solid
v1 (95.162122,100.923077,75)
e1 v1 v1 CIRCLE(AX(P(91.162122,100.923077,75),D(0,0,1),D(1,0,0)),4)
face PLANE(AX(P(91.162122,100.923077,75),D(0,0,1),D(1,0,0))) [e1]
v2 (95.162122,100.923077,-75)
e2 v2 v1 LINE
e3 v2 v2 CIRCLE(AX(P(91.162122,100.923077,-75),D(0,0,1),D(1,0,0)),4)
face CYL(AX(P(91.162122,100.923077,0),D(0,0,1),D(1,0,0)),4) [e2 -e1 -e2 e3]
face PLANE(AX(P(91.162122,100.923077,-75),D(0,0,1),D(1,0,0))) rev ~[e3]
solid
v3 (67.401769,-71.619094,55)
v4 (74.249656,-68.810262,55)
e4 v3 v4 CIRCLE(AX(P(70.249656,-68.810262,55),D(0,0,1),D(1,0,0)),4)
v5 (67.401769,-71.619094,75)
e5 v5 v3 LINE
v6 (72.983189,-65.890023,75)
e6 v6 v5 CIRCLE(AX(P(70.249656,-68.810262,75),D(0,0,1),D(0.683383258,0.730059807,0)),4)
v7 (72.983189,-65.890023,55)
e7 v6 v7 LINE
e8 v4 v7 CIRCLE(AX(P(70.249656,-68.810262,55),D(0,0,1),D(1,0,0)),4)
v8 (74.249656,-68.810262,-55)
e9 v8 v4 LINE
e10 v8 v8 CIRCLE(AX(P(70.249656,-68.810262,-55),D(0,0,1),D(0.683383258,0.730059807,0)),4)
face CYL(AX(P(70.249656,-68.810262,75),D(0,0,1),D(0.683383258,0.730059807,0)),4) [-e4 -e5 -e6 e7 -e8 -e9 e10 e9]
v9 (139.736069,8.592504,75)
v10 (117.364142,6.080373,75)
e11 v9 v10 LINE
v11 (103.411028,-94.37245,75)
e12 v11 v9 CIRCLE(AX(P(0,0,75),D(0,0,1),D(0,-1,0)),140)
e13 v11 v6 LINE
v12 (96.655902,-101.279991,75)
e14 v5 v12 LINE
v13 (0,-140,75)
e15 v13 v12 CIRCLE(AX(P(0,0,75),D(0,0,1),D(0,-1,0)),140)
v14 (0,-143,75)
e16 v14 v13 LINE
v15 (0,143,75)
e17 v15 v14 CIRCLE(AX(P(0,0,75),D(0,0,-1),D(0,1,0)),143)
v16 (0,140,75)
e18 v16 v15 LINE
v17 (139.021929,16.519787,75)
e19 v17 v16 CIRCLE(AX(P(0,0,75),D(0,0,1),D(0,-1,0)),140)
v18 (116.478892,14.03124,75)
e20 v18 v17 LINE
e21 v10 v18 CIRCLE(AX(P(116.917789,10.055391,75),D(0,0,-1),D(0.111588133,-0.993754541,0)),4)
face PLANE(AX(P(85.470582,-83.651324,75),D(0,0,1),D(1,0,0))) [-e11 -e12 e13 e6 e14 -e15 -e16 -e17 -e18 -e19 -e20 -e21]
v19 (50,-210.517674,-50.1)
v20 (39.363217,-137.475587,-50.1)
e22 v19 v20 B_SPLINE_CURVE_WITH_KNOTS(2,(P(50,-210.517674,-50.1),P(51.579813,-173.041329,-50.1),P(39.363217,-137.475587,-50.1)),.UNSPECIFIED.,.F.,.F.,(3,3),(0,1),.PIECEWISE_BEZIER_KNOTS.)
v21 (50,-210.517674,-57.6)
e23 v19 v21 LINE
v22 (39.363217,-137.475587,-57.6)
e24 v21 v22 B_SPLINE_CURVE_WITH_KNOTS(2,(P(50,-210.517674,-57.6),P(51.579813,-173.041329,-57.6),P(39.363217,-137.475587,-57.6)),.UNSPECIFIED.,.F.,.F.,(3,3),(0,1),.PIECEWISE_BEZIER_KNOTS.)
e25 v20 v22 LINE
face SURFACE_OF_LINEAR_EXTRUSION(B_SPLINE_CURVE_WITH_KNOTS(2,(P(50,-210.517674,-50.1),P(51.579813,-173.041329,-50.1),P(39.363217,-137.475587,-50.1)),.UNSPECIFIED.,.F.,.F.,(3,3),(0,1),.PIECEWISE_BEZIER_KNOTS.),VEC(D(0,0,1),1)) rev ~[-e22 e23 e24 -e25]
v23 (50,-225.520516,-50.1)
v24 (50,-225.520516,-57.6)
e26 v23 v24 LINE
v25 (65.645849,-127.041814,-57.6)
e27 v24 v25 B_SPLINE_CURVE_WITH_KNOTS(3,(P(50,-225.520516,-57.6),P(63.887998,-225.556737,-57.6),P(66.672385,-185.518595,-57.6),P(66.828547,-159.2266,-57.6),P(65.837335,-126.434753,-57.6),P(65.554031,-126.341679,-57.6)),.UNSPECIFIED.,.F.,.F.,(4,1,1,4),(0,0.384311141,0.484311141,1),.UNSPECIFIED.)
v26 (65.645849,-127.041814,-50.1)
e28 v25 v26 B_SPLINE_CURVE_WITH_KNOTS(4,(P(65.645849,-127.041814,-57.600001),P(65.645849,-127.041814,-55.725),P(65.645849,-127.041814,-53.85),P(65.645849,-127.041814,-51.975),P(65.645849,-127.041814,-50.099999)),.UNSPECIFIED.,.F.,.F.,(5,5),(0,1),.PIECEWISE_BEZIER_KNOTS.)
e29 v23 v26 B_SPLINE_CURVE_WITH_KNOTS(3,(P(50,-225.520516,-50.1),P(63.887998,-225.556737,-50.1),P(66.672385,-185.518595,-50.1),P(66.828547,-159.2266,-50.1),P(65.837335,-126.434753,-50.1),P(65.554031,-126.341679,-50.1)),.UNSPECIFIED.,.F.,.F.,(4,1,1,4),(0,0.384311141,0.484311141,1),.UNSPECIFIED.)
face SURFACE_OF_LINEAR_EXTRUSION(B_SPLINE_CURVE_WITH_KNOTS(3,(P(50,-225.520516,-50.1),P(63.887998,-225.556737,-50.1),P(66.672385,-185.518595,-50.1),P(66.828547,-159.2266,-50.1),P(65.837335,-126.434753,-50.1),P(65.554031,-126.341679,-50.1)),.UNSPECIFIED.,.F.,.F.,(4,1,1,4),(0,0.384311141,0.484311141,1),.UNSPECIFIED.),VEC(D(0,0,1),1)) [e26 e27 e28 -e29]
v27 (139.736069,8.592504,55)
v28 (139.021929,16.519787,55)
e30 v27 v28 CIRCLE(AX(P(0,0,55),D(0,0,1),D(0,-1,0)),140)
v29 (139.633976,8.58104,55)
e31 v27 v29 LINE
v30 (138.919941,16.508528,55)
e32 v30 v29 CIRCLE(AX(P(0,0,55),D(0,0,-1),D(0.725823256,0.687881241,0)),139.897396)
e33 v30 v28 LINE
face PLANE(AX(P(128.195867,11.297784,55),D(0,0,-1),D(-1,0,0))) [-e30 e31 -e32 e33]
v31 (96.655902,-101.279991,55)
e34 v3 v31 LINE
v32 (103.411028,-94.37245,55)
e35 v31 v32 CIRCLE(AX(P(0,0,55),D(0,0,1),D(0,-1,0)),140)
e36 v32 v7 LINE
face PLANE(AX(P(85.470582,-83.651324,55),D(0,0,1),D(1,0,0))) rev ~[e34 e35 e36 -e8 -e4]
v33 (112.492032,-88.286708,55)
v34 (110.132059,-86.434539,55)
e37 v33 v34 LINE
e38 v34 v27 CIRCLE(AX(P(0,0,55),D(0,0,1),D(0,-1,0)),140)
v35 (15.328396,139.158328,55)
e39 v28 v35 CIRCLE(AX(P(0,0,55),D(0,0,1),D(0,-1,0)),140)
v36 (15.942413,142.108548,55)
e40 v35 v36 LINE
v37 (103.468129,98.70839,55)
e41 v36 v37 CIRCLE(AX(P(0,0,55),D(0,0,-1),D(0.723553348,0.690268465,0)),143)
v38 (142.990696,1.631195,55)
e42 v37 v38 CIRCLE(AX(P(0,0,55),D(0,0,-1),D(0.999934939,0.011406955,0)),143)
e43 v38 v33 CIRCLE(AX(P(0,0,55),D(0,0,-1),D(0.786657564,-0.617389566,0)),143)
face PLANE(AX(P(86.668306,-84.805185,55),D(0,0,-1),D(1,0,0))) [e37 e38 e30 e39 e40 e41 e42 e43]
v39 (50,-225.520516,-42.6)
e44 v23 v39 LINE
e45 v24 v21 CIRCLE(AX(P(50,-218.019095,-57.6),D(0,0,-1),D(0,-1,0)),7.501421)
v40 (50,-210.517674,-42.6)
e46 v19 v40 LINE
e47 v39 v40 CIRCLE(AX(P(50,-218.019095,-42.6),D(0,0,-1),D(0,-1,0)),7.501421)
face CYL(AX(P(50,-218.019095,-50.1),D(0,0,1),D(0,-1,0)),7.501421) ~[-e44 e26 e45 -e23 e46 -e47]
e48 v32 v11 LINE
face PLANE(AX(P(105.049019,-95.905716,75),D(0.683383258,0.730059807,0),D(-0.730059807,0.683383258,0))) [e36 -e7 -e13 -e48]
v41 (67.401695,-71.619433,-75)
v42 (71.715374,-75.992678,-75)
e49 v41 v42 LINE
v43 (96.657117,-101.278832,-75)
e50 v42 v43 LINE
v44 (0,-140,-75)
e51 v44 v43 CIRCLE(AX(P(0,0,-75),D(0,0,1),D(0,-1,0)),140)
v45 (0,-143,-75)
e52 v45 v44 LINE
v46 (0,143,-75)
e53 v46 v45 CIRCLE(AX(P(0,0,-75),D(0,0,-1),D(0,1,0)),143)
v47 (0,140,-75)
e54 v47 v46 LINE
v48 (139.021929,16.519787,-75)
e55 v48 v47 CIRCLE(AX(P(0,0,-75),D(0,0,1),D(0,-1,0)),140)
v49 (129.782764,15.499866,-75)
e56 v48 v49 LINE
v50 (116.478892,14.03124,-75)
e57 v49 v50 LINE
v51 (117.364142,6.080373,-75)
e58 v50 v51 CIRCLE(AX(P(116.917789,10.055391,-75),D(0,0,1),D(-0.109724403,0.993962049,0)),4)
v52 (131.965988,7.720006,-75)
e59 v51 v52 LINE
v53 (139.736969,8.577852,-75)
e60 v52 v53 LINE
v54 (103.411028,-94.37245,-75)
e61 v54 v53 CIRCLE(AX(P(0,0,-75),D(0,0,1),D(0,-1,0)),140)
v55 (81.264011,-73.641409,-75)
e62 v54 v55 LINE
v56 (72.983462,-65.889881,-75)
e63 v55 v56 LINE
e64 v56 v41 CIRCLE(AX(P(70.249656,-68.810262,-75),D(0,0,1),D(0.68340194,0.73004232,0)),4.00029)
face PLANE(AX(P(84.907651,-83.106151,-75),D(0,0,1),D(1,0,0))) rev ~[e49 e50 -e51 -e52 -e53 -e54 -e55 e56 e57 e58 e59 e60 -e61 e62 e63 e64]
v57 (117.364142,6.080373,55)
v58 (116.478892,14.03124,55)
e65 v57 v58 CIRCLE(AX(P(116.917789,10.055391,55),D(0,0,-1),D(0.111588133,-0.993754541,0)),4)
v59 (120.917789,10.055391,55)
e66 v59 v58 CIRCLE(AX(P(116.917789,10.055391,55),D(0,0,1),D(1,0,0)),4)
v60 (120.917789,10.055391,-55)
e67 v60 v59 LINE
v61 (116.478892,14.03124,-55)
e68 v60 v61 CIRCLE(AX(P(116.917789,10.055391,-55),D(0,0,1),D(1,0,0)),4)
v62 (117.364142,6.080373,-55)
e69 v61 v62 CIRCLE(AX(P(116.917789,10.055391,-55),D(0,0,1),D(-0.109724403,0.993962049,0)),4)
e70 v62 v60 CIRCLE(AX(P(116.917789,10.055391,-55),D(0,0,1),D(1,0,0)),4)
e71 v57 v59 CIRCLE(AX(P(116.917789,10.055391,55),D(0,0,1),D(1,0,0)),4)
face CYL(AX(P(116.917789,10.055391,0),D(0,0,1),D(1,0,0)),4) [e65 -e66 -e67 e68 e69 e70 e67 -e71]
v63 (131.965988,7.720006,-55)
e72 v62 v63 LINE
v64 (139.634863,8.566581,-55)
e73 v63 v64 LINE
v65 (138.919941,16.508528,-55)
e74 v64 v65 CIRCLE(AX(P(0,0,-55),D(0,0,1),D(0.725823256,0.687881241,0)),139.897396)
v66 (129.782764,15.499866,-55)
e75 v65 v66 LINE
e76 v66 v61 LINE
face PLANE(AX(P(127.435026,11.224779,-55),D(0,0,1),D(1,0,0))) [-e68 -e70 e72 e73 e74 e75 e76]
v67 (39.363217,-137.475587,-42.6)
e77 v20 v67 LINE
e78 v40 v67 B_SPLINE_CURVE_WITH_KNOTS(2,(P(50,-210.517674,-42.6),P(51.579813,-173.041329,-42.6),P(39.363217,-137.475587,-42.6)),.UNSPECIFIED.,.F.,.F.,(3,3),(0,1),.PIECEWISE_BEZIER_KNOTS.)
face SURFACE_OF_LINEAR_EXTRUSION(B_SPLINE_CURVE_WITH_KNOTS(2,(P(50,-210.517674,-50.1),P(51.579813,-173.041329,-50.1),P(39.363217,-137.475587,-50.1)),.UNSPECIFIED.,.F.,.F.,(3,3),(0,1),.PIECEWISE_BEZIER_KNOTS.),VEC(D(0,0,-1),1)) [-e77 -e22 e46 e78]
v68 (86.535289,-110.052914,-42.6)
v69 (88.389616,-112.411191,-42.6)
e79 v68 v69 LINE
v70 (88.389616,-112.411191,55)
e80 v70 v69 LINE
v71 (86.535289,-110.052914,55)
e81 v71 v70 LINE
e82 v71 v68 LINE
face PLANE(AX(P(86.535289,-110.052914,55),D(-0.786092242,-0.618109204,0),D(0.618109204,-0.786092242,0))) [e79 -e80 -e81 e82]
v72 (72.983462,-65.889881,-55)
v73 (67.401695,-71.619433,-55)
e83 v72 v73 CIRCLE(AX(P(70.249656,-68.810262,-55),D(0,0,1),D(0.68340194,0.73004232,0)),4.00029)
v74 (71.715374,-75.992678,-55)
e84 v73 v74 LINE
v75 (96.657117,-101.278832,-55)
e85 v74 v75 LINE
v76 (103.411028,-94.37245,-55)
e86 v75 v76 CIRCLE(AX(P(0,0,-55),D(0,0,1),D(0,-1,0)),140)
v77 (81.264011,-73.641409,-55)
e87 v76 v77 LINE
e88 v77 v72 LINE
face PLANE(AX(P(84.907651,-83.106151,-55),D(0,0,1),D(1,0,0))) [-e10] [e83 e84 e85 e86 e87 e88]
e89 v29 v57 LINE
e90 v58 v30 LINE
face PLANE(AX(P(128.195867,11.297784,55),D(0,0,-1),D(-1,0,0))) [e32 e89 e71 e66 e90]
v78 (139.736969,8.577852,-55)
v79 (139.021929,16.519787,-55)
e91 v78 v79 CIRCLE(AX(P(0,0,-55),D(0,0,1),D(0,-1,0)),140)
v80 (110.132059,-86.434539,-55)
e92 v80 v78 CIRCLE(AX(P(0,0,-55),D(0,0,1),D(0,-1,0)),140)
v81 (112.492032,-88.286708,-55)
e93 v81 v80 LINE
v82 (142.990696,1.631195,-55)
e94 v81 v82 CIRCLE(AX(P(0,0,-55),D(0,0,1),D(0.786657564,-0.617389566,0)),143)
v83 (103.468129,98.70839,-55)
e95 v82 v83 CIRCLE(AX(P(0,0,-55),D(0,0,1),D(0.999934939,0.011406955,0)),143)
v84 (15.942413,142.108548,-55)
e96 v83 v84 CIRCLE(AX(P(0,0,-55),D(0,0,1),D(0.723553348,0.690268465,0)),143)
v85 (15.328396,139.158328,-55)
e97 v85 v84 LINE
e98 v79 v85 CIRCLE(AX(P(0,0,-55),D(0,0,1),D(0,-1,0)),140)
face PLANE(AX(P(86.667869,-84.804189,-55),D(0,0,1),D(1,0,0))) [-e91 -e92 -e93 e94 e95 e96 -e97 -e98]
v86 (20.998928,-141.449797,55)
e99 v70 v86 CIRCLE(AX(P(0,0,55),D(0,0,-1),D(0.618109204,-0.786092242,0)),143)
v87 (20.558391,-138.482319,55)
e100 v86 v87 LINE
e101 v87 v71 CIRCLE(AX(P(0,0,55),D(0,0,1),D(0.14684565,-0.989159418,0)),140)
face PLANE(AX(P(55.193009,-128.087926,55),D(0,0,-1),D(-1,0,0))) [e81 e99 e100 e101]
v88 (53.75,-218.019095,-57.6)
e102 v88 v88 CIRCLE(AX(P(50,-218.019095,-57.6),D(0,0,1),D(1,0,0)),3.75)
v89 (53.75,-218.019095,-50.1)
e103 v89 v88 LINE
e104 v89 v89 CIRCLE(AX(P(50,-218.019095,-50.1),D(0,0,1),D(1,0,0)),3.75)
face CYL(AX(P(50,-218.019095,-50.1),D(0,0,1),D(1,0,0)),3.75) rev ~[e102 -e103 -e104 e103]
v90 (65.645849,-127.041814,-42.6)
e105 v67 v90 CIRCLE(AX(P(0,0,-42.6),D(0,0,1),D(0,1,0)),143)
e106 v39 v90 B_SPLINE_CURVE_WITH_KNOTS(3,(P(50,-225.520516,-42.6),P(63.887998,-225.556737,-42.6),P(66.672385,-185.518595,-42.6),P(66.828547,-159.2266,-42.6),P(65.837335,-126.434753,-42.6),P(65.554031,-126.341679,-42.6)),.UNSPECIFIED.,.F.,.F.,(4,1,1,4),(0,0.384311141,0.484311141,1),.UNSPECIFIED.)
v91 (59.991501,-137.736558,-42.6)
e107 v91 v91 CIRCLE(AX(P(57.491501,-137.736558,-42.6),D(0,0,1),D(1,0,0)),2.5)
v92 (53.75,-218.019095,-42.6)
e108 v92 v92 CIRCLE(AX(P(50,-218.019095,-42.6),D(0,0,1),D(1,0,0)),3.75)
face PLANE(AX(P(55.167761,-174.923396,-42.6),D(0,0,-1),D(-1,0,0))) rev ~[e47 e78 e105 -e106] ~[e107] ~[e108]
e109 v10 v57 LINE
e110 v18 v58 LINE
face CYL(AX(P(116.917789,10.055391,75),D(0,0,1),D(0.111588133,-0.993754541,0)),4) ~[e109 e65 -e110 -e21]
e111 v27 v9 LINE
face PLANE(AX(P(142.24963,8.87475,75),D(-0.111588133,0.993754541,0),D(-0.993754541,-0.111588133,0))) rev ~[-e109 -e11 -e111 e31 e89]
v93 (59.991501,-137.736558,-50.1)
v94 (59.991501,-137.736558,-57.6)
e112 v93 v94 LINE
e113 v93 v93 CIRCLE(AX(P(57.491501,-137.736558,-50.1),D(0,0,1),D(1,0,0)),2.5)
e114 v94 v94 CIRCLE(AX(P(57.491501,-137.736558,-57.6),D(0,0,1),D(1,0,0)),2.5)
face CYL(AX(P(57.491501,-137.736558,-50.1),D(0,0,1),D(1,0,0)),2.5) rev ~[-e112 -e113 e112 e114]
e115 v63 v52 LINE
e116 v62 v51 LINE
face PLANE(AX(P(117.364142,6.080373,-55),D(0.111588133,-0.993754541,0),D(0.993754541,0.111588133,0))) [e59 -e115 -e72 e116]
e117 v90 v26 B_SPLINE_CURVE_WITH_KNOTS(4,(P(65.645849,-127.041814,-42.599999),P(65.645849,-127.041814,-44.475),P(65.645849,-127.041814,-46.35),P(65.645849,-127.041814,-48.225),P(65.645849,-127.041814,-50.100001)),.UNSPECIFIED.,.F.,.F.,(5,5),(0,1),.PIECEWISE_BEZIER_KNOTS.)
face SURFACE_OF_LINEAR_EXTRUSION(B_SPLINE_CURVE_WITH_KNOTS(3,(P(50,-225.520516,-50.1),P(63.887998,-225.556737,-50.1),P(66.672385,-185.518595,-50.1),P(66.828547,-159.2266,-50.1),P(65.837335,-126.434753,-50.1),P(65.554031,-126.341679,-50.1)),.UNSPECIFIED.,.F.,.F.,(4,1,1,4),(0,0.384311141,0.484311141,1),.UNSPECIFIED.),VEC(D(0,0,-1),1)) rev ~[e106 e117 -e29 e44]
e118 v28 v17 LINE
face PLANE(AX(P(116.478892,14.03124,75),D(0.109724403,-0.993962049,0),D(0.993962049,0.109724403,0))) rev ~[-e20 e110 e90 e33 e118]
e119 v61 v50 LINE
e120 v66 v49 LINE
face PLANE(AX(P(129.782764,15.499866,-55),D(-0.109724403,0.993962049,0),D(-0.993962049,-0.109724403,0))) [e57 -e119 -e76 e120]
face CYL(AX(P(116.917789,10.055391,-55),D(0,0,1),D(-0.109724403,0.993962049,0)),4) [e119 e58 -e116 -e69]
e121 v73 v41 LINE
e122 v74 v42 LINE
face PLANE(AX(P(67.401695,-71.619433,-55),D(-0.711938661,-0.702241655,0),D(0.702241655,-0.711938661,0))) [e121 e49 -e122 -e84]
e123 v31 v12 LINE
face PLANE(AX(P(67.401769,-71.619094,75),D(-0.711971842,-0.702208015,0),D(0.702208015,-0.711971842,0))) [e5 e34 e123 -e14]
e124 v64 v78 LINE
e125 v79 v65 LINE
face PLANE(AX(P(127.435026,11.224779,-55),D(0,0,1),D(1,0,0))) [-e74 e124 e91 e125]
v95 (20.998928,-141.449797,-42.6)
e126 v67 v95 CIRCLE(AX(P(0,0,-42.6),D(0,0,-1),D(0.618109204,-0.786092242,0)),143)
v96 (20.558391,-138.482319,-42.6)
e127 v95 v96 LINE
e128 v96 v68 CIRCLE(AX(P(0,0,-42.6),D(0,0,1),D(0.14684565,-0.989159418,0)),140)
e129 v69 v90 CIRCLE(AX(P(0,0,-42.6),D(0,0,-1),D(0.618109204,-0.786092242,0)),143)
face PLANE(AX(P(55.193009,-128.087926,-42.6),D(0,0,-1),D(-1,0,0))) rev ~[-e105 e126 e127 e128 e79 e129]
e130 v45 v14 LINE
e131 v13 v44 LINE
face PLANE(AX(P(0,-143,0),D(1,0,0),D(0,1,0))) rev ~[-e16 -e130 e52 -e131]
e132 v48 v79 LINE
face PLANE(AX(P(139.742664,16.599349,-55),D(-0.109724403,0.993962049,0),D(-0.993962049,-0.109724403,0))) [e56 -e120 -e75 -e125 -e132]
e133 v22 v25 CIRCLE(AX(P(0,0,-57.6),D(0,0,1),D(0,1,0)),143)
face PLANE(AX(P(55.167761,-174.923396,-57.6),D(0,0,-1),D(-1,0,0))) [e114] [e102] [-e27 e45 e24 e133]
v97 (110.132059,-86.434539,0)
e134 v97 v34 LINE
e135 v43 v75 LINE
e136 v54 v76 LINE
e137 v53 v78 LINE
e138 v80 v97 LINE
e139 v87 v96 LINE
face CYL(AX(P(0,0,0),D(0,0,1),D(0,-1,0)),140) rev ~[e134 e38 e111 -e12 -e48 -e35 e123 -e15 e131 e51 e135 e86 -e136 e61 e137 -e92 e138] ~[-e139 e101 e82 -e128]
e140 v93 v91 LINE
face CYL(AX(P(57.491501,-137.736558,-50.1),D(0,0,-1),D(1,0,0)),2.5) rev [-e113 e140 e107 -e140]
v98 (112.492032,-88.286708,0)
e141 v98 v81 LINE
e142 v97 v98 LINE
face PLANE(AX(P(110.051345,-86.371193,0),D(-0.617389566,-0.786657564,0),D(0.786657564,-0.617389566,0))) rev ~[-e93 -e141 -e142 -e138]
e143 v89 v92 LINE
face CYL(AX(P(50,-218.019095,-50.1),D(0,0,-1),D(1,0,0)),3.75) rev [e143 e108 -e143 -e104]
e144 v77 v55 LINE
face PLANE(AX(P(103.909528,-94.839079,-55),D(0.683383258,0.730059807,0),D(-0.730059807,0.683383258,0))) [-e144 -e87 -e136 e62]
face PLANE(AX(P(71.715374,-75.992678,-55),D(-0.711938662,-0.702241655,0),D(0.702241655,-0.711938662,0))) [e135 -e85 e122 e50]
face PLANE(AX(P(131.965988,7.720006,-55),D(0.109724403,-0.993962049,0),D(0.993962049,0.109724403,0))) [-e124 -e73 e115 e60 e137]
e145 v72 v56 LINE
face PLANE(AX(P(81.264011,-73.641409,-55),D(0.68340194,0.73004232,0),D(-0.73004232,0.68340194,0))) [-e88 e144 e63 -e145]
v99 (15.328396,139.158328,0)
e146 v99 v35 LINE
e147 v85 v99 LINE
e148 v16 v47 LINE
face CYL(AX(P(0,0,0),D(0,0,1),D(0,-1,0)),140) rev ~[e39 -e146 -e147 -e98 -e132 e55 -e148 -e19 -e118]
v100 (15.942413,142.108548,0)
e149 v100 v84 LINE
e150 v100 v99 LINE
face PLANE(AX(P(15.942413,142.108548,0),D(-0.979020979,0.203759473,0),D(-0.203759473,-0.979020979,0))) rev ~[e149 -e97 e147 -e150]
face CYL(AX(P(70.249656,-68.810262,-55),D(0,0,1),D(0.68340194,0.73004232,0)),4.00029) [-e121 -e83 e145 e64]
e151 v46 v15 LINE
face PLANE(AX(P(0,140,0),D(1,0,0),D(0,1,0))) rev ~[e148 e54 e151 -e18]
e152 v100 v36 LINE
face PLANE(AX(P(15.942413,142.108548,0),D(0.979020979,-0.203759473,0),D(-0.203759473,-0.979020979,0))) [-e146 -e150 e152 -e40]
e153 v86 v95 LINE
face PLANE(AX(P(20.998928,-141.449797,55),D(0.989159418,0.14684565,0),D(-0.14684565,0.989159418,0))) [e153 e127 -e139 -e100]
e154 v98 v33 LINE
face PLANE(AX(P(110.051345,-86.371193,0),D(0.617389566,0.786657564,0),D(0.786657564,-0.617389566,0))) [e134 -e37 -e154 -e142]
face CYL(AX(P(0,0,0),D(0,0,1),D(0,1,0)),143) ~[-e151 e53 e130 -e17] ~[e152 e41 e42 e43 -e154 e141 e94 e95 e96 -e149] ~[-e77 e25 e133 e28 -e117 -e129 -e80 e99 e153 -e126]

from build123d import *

# Parameters (mm, degrees)
BOSS_EXTRUDE1_DEPTH            = 75
SKETCH2_R                      = 3.75
SKETCH2_R_2                    = 2.5
BOSS_EXTRUDE2_DEPTH            = 7.5
SKETCH4_R                      = 4
BOSS_EXTRUDE3_DEPTH            = 75
BOSS_EXTRUDE3_2_DEPTH          = 75
BOSS_EXTRUDE3_3_DEPTH          = 75
BOSS_EXTRUDE4_DEPTH            = 20
BOSS_EXTRUDE5_START            = -20
BOSS_EXTRUDE5_DEPTH            = 20
CUT_EXTRUDE1_REACH             = 279.369
CUT_EXTRUDE1_DIRECTION_2_REACH = 279.369
CUT_EXTRUDE2_START             = 55
CUT_EXTRUDE2_DEPTH             = 97.6


with BuildPart() as part:
    # Sketch1 → Boss-Extrude1 (new, symmetric)
    with BuildSketch(Plane.XY):
        with BuildLine():
            Line((0, -143), (0, -140))
            ThreePointArc((0, -140), (140, 0), (0, 140))
            Line((0, 140), (0, 143))
            ThreePointArc((0, 143), (143, 0), (0, -143))
        make_face()
    extrude(amount=BOSS_EXTRUDE1_DEPTH, both=True)

    # Sketch2 → Boss-Extrude2 (add, symmetric)
    with BuildSketch(Plane.XY.offset(-50.1)):
        with BuildLine():
            Line((39.363217393, -137.475587347), (65.554031459, -126.341679479))
            add(Edge.make_bspline(
                [(50, -225.520515721), (63.887998116, -225.556737142), (66.67238478, -185.518594671), (66.828546925, -159.226599882), (65.837335245, -126.434753235), (65.554031459, -126.341679479)],
                knots=[0, 0, 0, 0, 0.384311141, 0.484311141, 1, 1, 1, 1], degree=3))
            ThreePointArc((50, -225.520515721), (42.498579173, -218.019094893), (50, -210.517674065))
            add(Edge.make_bspline(
                [(50, -210.517674065), (51.57981302, -173.041328894), (39.363217393, -137.475587347)],
                knots=[0, 0, 0, 1, 1, 1], degree=2))
        make_face()
        with Locations((50, -218.019094893)):
            Circle(SKETCH2_R, mode=Mode.SUBTRACT)
        with Locations((57.491500901, -137.736557679)):
            Circle(SKETCH2_R_2, mode=Mode.SUBTRACT)
    extrude(amount=BOSS_EXTRUDE2_DEPTH, both=True)



with BuildPart() as body_2:
    # Sketch4 → Boss-Extrude3 (new, symmetric)
    with BuildSketch(Plane.XY):
        with Locations((91.162122312, 100.923076923)):
            Circle(SKETCH4_R)
    extrude(amount=BOSS_EXTRUDE3_DEPTH, both=True)


with BuildPart() as body_3:
    # Sketch4 → Boss-Extrude3 2 (new, symmetric)
    with BuildSketch(Plane.XY):
        with Locations((116.917789305, 10.055391378)):
            Circle(SKETCH4_R)
    extrude(amount=BOSS_EXTRUDE3_2_DEPTH, both=True)


with BuildPart() as body_4:
    # Sketch4 → Boss-Extrude3 3 (new, symmetric)
    with BuildSketch(Plane.XY):
        with Locations((70.2496561, -68.810262197)):
            Circle(SKETCH4_R)
    extrude(amount=BOSS_EXTRUDE3_3_DEPTH, both=True)


with BuildPart() as part_1:
    add(part.part)

    add(body_3.part)  # Boss-Extrude4 merges body 3

    add(body_4.part)  # Boss-Extrude4 merges body 4
    # Sketch5 → Boss-Extrude4 (add)
    with BuildSketch(Plane.XY.offset(75)):
        with BuildLine():
            Line((67.401768733, -71.619094256), (98.381901585, -103.029989292))
            Line((98.381901585, -103.029989292), (105.049019097, -95.905716398))
            Line((105.049019097, -95.905716398), (72.983189134, -65.890022967))
            ThreePointArc((72.983189134, -65.890022967), (67.384549874, -66.018996119), (67.401768733, -71.619094256))
        make_face()
        with BuildLine():
            Line((116.478891692, 14.031239575), (141.138532223, 16.753440429))
            Line((141.138532223, 16.753440429), (142.249629521, 8.874750499))
            Line((142.249629521, 8.874750499), (117.364141838, 6.080373213))
            ThreePointArc((117.364141838, 6.080373213), (112.942354376, 9.612766111), (116.478891692, 14.031239575))
        make_face()
    extrude(amount=-BOSS_EXTRUDE4_DEPTH)

    # Sketch10 → Boss-Extrude5 (add)
    with BuildSketch(Plane(origin=(0, 0, -75), x_dir=(-1, 0, 0), z_dir=(0, 0, -1)).offset(BOSS_EXTRUDE5_START)):
        with BuildLine():
            Line((-81.264011417, -73.641408891), (-72.983462218, -65.889881022))
            ThreePointArc((-72.983462218, -65.889881022), (-67.384311741, -66.01882461), (-67.401694813, -71.619432644))
            Line((-67.401694813, -71.619432644), (-71.715374438, -75.992678343))
            Line((-71.715374438, -75.992678343), (-97.325013163, -101.9559515))
            Line((-97.325013163, -101.9559515), (-103.909527759, -94.839078712))
            Line((-103.909527759, -94.839078712), (-81.264011417, -73.641408891))
        make_face()
        with BuildLine():
            Line((-129.782763697, 15.499866488), (-116.478891692, 14.031239575))
            ThreePointArc((-116.478891692, 14.031239575), (-112.942354376, 9.612766111), (-117.364141838, 6.080373213))
            Line((-117.364141838, 6.080373213), (-131.965987804, 7.720006208))
            Line((-131.965987804, 7.720006208), (-140.617435242, 8.675047607))
            Line((-140.617435242, 8.675047607), (-139.74266415, 16.599349243))
            Line((-139.74266415, 16.599349243), (-129.782763697, 15.499866488))
        make_face()
    extrude(amount=BOSS_EXTRUDE5_DEPTH)

    # Cut-Extrude1: up to this face of the body (flat: up to its plane)
    cut_extrude1_end = Plane(part_1.part.faces().sort_by_distance((86.667869267, -84.804189346, -55))[0])
    # Sketch14 → Cut-Extrude1 (cut, up to the picked face)
    with BuildSketch(Plane.XY, mode=Mode.PRIVATE) as cut_extrude1_sk1:
        with BuildLine():
            Line((110.051344731, -86.371192556), (112.492031713, -88.286707953))
            ThreePointArc((112.492031713, -88.286707953), (135.422167186, -45.932958044), (142.990696216, 1.631194555))
            ThreePointArc((142.990696216, 1.631194555), (132.444265959, 53.921391068), (103.468128704, 98.708390436))
            ThreePointArc((103.468128704, 98.708390436), (63.526472944, 128.114742459), (15.942412546, 142.108548238))
            Line((15.942412546, 142.108548238), (15.307393475, 139.057416507))
            ThreePointArc((15.307393475, 139.057416507), (62.224281222, 125.297327214), (101.540783348, 96.232794295))
            ThreePointArc((101.540783348, 96.232794295), (129.704714642, 52.421068096), (139.890944357, 1.343527996))
            ThreePointArc((139.890944357, 1.343527996), (132.443403079, -45.055813849), (110.051344731, -86.371192556))
        make_face()
    cut_extrude1_tool1 = split(extrude(cut_extrude1_sk1.sketch, amount=-CUT_EXTRUDE1_REACH, mode=Mode.PRIVATE), bisect_by=cut_extrude1_end, keep=Keep.BOTH, mode=Mode.PRIVATE)
    add(cut_extrude1_tool1.solids().sort_by(Axis((132.146944, 53.408112, 0), (0, 0, -1)))[0], mode=Mode.SUBTRACT)

    # Cut-Extrude1 direction 2: up to this face of the body (flat: up to its plane)
    cut_extrude1_direction_2_end = Plane(part_1.part.faces().sort_by_distance((86.668305804, -84.805185214, 55))[0])
    # Sketch14 → Cut-Extrude1 direction 2 (cut, up to the picked face)
    with BuildSketch(Plane.XY, mode=Mode.PRIVATE) as cut_extrude1_direction_2_sk1:
        with BuildLine():
            Line((110.051344731, -86.371192556), (112.492031713, -88.286707953))
            ThreePointArc((112.492031713, -88.286707953), (135.422167186, -45.932958044), (142.990696216, 1.631194555))
            ThreePointArc((142.990696216, 1.631194555), (132.444265959, 53.921391068), (103.468128704, 98.708390436))
            ThreePointArc((103.468128704, 98.708390436), (63.526472944, 128.114742459), (15.942412546, 142.108548238))
            Line((15.942412546, 142.108548238), (15.307393475, 139.057416507))
            ThreePointArc((15.307393475, 139.057416507), (62.224281222, 125.297327214), (101.540783348, 96.232794295))
            ThreePointArc((101.540783348, 96.232794295), (129.704714642, 52.421068096), (139.890944357, 1.343527996))
            ThreePointArc((139.890944357, 1.343527996), (132.443403079, -45.055813849), (110.051344731, -86.371192556))
        make_face()
    cut_extrude1_direction_2_tool1 = split(extrude(cut_extrude1_direction_2_sk1.sketch, amount=CUT_EXTRUDE1_DIRECTION_2_REACH, mode=Mode.PRIVATE), bisect_by=cut_extrude1_direction_2_end, keep=Keep.BOTH, mode=Mode.PRIVATE)
    add(cut_extrude1_direction_2_tool1.solids().sort_by(Axis((132.146944, 53.408112, 0), (0, 0, 1)))[0], mode=Mode.SUBTRACT)

    # Sketch15 → Cut-Extrude2 (cut)
    with BuildSketch(Plane.XY.offset(CUT_EXTRUDE2_START)):
        with BuildLine():
            Line((86.535288516, -110.052913826), (88.389616127, -112.41119055))
            ThreePointArc((88.389616127, -112.41119055), (56.588634549, -131.326792544), (20.998927999, -141.449796829))
            Line((20.998927999, -141.449796829), (20.558391048, -138.482318574))
            ThreePointArc((20.558391048, -138.482318574), (55.401460398, -128.571685008), (86.535288516, -110.052913826))
        make_face()
    extrude(amount=-CUT_EXTRUDE2_DEPTH, mode=Mode.SUBTRACT)


solid = Compound([body_2.part, part_1.part])
